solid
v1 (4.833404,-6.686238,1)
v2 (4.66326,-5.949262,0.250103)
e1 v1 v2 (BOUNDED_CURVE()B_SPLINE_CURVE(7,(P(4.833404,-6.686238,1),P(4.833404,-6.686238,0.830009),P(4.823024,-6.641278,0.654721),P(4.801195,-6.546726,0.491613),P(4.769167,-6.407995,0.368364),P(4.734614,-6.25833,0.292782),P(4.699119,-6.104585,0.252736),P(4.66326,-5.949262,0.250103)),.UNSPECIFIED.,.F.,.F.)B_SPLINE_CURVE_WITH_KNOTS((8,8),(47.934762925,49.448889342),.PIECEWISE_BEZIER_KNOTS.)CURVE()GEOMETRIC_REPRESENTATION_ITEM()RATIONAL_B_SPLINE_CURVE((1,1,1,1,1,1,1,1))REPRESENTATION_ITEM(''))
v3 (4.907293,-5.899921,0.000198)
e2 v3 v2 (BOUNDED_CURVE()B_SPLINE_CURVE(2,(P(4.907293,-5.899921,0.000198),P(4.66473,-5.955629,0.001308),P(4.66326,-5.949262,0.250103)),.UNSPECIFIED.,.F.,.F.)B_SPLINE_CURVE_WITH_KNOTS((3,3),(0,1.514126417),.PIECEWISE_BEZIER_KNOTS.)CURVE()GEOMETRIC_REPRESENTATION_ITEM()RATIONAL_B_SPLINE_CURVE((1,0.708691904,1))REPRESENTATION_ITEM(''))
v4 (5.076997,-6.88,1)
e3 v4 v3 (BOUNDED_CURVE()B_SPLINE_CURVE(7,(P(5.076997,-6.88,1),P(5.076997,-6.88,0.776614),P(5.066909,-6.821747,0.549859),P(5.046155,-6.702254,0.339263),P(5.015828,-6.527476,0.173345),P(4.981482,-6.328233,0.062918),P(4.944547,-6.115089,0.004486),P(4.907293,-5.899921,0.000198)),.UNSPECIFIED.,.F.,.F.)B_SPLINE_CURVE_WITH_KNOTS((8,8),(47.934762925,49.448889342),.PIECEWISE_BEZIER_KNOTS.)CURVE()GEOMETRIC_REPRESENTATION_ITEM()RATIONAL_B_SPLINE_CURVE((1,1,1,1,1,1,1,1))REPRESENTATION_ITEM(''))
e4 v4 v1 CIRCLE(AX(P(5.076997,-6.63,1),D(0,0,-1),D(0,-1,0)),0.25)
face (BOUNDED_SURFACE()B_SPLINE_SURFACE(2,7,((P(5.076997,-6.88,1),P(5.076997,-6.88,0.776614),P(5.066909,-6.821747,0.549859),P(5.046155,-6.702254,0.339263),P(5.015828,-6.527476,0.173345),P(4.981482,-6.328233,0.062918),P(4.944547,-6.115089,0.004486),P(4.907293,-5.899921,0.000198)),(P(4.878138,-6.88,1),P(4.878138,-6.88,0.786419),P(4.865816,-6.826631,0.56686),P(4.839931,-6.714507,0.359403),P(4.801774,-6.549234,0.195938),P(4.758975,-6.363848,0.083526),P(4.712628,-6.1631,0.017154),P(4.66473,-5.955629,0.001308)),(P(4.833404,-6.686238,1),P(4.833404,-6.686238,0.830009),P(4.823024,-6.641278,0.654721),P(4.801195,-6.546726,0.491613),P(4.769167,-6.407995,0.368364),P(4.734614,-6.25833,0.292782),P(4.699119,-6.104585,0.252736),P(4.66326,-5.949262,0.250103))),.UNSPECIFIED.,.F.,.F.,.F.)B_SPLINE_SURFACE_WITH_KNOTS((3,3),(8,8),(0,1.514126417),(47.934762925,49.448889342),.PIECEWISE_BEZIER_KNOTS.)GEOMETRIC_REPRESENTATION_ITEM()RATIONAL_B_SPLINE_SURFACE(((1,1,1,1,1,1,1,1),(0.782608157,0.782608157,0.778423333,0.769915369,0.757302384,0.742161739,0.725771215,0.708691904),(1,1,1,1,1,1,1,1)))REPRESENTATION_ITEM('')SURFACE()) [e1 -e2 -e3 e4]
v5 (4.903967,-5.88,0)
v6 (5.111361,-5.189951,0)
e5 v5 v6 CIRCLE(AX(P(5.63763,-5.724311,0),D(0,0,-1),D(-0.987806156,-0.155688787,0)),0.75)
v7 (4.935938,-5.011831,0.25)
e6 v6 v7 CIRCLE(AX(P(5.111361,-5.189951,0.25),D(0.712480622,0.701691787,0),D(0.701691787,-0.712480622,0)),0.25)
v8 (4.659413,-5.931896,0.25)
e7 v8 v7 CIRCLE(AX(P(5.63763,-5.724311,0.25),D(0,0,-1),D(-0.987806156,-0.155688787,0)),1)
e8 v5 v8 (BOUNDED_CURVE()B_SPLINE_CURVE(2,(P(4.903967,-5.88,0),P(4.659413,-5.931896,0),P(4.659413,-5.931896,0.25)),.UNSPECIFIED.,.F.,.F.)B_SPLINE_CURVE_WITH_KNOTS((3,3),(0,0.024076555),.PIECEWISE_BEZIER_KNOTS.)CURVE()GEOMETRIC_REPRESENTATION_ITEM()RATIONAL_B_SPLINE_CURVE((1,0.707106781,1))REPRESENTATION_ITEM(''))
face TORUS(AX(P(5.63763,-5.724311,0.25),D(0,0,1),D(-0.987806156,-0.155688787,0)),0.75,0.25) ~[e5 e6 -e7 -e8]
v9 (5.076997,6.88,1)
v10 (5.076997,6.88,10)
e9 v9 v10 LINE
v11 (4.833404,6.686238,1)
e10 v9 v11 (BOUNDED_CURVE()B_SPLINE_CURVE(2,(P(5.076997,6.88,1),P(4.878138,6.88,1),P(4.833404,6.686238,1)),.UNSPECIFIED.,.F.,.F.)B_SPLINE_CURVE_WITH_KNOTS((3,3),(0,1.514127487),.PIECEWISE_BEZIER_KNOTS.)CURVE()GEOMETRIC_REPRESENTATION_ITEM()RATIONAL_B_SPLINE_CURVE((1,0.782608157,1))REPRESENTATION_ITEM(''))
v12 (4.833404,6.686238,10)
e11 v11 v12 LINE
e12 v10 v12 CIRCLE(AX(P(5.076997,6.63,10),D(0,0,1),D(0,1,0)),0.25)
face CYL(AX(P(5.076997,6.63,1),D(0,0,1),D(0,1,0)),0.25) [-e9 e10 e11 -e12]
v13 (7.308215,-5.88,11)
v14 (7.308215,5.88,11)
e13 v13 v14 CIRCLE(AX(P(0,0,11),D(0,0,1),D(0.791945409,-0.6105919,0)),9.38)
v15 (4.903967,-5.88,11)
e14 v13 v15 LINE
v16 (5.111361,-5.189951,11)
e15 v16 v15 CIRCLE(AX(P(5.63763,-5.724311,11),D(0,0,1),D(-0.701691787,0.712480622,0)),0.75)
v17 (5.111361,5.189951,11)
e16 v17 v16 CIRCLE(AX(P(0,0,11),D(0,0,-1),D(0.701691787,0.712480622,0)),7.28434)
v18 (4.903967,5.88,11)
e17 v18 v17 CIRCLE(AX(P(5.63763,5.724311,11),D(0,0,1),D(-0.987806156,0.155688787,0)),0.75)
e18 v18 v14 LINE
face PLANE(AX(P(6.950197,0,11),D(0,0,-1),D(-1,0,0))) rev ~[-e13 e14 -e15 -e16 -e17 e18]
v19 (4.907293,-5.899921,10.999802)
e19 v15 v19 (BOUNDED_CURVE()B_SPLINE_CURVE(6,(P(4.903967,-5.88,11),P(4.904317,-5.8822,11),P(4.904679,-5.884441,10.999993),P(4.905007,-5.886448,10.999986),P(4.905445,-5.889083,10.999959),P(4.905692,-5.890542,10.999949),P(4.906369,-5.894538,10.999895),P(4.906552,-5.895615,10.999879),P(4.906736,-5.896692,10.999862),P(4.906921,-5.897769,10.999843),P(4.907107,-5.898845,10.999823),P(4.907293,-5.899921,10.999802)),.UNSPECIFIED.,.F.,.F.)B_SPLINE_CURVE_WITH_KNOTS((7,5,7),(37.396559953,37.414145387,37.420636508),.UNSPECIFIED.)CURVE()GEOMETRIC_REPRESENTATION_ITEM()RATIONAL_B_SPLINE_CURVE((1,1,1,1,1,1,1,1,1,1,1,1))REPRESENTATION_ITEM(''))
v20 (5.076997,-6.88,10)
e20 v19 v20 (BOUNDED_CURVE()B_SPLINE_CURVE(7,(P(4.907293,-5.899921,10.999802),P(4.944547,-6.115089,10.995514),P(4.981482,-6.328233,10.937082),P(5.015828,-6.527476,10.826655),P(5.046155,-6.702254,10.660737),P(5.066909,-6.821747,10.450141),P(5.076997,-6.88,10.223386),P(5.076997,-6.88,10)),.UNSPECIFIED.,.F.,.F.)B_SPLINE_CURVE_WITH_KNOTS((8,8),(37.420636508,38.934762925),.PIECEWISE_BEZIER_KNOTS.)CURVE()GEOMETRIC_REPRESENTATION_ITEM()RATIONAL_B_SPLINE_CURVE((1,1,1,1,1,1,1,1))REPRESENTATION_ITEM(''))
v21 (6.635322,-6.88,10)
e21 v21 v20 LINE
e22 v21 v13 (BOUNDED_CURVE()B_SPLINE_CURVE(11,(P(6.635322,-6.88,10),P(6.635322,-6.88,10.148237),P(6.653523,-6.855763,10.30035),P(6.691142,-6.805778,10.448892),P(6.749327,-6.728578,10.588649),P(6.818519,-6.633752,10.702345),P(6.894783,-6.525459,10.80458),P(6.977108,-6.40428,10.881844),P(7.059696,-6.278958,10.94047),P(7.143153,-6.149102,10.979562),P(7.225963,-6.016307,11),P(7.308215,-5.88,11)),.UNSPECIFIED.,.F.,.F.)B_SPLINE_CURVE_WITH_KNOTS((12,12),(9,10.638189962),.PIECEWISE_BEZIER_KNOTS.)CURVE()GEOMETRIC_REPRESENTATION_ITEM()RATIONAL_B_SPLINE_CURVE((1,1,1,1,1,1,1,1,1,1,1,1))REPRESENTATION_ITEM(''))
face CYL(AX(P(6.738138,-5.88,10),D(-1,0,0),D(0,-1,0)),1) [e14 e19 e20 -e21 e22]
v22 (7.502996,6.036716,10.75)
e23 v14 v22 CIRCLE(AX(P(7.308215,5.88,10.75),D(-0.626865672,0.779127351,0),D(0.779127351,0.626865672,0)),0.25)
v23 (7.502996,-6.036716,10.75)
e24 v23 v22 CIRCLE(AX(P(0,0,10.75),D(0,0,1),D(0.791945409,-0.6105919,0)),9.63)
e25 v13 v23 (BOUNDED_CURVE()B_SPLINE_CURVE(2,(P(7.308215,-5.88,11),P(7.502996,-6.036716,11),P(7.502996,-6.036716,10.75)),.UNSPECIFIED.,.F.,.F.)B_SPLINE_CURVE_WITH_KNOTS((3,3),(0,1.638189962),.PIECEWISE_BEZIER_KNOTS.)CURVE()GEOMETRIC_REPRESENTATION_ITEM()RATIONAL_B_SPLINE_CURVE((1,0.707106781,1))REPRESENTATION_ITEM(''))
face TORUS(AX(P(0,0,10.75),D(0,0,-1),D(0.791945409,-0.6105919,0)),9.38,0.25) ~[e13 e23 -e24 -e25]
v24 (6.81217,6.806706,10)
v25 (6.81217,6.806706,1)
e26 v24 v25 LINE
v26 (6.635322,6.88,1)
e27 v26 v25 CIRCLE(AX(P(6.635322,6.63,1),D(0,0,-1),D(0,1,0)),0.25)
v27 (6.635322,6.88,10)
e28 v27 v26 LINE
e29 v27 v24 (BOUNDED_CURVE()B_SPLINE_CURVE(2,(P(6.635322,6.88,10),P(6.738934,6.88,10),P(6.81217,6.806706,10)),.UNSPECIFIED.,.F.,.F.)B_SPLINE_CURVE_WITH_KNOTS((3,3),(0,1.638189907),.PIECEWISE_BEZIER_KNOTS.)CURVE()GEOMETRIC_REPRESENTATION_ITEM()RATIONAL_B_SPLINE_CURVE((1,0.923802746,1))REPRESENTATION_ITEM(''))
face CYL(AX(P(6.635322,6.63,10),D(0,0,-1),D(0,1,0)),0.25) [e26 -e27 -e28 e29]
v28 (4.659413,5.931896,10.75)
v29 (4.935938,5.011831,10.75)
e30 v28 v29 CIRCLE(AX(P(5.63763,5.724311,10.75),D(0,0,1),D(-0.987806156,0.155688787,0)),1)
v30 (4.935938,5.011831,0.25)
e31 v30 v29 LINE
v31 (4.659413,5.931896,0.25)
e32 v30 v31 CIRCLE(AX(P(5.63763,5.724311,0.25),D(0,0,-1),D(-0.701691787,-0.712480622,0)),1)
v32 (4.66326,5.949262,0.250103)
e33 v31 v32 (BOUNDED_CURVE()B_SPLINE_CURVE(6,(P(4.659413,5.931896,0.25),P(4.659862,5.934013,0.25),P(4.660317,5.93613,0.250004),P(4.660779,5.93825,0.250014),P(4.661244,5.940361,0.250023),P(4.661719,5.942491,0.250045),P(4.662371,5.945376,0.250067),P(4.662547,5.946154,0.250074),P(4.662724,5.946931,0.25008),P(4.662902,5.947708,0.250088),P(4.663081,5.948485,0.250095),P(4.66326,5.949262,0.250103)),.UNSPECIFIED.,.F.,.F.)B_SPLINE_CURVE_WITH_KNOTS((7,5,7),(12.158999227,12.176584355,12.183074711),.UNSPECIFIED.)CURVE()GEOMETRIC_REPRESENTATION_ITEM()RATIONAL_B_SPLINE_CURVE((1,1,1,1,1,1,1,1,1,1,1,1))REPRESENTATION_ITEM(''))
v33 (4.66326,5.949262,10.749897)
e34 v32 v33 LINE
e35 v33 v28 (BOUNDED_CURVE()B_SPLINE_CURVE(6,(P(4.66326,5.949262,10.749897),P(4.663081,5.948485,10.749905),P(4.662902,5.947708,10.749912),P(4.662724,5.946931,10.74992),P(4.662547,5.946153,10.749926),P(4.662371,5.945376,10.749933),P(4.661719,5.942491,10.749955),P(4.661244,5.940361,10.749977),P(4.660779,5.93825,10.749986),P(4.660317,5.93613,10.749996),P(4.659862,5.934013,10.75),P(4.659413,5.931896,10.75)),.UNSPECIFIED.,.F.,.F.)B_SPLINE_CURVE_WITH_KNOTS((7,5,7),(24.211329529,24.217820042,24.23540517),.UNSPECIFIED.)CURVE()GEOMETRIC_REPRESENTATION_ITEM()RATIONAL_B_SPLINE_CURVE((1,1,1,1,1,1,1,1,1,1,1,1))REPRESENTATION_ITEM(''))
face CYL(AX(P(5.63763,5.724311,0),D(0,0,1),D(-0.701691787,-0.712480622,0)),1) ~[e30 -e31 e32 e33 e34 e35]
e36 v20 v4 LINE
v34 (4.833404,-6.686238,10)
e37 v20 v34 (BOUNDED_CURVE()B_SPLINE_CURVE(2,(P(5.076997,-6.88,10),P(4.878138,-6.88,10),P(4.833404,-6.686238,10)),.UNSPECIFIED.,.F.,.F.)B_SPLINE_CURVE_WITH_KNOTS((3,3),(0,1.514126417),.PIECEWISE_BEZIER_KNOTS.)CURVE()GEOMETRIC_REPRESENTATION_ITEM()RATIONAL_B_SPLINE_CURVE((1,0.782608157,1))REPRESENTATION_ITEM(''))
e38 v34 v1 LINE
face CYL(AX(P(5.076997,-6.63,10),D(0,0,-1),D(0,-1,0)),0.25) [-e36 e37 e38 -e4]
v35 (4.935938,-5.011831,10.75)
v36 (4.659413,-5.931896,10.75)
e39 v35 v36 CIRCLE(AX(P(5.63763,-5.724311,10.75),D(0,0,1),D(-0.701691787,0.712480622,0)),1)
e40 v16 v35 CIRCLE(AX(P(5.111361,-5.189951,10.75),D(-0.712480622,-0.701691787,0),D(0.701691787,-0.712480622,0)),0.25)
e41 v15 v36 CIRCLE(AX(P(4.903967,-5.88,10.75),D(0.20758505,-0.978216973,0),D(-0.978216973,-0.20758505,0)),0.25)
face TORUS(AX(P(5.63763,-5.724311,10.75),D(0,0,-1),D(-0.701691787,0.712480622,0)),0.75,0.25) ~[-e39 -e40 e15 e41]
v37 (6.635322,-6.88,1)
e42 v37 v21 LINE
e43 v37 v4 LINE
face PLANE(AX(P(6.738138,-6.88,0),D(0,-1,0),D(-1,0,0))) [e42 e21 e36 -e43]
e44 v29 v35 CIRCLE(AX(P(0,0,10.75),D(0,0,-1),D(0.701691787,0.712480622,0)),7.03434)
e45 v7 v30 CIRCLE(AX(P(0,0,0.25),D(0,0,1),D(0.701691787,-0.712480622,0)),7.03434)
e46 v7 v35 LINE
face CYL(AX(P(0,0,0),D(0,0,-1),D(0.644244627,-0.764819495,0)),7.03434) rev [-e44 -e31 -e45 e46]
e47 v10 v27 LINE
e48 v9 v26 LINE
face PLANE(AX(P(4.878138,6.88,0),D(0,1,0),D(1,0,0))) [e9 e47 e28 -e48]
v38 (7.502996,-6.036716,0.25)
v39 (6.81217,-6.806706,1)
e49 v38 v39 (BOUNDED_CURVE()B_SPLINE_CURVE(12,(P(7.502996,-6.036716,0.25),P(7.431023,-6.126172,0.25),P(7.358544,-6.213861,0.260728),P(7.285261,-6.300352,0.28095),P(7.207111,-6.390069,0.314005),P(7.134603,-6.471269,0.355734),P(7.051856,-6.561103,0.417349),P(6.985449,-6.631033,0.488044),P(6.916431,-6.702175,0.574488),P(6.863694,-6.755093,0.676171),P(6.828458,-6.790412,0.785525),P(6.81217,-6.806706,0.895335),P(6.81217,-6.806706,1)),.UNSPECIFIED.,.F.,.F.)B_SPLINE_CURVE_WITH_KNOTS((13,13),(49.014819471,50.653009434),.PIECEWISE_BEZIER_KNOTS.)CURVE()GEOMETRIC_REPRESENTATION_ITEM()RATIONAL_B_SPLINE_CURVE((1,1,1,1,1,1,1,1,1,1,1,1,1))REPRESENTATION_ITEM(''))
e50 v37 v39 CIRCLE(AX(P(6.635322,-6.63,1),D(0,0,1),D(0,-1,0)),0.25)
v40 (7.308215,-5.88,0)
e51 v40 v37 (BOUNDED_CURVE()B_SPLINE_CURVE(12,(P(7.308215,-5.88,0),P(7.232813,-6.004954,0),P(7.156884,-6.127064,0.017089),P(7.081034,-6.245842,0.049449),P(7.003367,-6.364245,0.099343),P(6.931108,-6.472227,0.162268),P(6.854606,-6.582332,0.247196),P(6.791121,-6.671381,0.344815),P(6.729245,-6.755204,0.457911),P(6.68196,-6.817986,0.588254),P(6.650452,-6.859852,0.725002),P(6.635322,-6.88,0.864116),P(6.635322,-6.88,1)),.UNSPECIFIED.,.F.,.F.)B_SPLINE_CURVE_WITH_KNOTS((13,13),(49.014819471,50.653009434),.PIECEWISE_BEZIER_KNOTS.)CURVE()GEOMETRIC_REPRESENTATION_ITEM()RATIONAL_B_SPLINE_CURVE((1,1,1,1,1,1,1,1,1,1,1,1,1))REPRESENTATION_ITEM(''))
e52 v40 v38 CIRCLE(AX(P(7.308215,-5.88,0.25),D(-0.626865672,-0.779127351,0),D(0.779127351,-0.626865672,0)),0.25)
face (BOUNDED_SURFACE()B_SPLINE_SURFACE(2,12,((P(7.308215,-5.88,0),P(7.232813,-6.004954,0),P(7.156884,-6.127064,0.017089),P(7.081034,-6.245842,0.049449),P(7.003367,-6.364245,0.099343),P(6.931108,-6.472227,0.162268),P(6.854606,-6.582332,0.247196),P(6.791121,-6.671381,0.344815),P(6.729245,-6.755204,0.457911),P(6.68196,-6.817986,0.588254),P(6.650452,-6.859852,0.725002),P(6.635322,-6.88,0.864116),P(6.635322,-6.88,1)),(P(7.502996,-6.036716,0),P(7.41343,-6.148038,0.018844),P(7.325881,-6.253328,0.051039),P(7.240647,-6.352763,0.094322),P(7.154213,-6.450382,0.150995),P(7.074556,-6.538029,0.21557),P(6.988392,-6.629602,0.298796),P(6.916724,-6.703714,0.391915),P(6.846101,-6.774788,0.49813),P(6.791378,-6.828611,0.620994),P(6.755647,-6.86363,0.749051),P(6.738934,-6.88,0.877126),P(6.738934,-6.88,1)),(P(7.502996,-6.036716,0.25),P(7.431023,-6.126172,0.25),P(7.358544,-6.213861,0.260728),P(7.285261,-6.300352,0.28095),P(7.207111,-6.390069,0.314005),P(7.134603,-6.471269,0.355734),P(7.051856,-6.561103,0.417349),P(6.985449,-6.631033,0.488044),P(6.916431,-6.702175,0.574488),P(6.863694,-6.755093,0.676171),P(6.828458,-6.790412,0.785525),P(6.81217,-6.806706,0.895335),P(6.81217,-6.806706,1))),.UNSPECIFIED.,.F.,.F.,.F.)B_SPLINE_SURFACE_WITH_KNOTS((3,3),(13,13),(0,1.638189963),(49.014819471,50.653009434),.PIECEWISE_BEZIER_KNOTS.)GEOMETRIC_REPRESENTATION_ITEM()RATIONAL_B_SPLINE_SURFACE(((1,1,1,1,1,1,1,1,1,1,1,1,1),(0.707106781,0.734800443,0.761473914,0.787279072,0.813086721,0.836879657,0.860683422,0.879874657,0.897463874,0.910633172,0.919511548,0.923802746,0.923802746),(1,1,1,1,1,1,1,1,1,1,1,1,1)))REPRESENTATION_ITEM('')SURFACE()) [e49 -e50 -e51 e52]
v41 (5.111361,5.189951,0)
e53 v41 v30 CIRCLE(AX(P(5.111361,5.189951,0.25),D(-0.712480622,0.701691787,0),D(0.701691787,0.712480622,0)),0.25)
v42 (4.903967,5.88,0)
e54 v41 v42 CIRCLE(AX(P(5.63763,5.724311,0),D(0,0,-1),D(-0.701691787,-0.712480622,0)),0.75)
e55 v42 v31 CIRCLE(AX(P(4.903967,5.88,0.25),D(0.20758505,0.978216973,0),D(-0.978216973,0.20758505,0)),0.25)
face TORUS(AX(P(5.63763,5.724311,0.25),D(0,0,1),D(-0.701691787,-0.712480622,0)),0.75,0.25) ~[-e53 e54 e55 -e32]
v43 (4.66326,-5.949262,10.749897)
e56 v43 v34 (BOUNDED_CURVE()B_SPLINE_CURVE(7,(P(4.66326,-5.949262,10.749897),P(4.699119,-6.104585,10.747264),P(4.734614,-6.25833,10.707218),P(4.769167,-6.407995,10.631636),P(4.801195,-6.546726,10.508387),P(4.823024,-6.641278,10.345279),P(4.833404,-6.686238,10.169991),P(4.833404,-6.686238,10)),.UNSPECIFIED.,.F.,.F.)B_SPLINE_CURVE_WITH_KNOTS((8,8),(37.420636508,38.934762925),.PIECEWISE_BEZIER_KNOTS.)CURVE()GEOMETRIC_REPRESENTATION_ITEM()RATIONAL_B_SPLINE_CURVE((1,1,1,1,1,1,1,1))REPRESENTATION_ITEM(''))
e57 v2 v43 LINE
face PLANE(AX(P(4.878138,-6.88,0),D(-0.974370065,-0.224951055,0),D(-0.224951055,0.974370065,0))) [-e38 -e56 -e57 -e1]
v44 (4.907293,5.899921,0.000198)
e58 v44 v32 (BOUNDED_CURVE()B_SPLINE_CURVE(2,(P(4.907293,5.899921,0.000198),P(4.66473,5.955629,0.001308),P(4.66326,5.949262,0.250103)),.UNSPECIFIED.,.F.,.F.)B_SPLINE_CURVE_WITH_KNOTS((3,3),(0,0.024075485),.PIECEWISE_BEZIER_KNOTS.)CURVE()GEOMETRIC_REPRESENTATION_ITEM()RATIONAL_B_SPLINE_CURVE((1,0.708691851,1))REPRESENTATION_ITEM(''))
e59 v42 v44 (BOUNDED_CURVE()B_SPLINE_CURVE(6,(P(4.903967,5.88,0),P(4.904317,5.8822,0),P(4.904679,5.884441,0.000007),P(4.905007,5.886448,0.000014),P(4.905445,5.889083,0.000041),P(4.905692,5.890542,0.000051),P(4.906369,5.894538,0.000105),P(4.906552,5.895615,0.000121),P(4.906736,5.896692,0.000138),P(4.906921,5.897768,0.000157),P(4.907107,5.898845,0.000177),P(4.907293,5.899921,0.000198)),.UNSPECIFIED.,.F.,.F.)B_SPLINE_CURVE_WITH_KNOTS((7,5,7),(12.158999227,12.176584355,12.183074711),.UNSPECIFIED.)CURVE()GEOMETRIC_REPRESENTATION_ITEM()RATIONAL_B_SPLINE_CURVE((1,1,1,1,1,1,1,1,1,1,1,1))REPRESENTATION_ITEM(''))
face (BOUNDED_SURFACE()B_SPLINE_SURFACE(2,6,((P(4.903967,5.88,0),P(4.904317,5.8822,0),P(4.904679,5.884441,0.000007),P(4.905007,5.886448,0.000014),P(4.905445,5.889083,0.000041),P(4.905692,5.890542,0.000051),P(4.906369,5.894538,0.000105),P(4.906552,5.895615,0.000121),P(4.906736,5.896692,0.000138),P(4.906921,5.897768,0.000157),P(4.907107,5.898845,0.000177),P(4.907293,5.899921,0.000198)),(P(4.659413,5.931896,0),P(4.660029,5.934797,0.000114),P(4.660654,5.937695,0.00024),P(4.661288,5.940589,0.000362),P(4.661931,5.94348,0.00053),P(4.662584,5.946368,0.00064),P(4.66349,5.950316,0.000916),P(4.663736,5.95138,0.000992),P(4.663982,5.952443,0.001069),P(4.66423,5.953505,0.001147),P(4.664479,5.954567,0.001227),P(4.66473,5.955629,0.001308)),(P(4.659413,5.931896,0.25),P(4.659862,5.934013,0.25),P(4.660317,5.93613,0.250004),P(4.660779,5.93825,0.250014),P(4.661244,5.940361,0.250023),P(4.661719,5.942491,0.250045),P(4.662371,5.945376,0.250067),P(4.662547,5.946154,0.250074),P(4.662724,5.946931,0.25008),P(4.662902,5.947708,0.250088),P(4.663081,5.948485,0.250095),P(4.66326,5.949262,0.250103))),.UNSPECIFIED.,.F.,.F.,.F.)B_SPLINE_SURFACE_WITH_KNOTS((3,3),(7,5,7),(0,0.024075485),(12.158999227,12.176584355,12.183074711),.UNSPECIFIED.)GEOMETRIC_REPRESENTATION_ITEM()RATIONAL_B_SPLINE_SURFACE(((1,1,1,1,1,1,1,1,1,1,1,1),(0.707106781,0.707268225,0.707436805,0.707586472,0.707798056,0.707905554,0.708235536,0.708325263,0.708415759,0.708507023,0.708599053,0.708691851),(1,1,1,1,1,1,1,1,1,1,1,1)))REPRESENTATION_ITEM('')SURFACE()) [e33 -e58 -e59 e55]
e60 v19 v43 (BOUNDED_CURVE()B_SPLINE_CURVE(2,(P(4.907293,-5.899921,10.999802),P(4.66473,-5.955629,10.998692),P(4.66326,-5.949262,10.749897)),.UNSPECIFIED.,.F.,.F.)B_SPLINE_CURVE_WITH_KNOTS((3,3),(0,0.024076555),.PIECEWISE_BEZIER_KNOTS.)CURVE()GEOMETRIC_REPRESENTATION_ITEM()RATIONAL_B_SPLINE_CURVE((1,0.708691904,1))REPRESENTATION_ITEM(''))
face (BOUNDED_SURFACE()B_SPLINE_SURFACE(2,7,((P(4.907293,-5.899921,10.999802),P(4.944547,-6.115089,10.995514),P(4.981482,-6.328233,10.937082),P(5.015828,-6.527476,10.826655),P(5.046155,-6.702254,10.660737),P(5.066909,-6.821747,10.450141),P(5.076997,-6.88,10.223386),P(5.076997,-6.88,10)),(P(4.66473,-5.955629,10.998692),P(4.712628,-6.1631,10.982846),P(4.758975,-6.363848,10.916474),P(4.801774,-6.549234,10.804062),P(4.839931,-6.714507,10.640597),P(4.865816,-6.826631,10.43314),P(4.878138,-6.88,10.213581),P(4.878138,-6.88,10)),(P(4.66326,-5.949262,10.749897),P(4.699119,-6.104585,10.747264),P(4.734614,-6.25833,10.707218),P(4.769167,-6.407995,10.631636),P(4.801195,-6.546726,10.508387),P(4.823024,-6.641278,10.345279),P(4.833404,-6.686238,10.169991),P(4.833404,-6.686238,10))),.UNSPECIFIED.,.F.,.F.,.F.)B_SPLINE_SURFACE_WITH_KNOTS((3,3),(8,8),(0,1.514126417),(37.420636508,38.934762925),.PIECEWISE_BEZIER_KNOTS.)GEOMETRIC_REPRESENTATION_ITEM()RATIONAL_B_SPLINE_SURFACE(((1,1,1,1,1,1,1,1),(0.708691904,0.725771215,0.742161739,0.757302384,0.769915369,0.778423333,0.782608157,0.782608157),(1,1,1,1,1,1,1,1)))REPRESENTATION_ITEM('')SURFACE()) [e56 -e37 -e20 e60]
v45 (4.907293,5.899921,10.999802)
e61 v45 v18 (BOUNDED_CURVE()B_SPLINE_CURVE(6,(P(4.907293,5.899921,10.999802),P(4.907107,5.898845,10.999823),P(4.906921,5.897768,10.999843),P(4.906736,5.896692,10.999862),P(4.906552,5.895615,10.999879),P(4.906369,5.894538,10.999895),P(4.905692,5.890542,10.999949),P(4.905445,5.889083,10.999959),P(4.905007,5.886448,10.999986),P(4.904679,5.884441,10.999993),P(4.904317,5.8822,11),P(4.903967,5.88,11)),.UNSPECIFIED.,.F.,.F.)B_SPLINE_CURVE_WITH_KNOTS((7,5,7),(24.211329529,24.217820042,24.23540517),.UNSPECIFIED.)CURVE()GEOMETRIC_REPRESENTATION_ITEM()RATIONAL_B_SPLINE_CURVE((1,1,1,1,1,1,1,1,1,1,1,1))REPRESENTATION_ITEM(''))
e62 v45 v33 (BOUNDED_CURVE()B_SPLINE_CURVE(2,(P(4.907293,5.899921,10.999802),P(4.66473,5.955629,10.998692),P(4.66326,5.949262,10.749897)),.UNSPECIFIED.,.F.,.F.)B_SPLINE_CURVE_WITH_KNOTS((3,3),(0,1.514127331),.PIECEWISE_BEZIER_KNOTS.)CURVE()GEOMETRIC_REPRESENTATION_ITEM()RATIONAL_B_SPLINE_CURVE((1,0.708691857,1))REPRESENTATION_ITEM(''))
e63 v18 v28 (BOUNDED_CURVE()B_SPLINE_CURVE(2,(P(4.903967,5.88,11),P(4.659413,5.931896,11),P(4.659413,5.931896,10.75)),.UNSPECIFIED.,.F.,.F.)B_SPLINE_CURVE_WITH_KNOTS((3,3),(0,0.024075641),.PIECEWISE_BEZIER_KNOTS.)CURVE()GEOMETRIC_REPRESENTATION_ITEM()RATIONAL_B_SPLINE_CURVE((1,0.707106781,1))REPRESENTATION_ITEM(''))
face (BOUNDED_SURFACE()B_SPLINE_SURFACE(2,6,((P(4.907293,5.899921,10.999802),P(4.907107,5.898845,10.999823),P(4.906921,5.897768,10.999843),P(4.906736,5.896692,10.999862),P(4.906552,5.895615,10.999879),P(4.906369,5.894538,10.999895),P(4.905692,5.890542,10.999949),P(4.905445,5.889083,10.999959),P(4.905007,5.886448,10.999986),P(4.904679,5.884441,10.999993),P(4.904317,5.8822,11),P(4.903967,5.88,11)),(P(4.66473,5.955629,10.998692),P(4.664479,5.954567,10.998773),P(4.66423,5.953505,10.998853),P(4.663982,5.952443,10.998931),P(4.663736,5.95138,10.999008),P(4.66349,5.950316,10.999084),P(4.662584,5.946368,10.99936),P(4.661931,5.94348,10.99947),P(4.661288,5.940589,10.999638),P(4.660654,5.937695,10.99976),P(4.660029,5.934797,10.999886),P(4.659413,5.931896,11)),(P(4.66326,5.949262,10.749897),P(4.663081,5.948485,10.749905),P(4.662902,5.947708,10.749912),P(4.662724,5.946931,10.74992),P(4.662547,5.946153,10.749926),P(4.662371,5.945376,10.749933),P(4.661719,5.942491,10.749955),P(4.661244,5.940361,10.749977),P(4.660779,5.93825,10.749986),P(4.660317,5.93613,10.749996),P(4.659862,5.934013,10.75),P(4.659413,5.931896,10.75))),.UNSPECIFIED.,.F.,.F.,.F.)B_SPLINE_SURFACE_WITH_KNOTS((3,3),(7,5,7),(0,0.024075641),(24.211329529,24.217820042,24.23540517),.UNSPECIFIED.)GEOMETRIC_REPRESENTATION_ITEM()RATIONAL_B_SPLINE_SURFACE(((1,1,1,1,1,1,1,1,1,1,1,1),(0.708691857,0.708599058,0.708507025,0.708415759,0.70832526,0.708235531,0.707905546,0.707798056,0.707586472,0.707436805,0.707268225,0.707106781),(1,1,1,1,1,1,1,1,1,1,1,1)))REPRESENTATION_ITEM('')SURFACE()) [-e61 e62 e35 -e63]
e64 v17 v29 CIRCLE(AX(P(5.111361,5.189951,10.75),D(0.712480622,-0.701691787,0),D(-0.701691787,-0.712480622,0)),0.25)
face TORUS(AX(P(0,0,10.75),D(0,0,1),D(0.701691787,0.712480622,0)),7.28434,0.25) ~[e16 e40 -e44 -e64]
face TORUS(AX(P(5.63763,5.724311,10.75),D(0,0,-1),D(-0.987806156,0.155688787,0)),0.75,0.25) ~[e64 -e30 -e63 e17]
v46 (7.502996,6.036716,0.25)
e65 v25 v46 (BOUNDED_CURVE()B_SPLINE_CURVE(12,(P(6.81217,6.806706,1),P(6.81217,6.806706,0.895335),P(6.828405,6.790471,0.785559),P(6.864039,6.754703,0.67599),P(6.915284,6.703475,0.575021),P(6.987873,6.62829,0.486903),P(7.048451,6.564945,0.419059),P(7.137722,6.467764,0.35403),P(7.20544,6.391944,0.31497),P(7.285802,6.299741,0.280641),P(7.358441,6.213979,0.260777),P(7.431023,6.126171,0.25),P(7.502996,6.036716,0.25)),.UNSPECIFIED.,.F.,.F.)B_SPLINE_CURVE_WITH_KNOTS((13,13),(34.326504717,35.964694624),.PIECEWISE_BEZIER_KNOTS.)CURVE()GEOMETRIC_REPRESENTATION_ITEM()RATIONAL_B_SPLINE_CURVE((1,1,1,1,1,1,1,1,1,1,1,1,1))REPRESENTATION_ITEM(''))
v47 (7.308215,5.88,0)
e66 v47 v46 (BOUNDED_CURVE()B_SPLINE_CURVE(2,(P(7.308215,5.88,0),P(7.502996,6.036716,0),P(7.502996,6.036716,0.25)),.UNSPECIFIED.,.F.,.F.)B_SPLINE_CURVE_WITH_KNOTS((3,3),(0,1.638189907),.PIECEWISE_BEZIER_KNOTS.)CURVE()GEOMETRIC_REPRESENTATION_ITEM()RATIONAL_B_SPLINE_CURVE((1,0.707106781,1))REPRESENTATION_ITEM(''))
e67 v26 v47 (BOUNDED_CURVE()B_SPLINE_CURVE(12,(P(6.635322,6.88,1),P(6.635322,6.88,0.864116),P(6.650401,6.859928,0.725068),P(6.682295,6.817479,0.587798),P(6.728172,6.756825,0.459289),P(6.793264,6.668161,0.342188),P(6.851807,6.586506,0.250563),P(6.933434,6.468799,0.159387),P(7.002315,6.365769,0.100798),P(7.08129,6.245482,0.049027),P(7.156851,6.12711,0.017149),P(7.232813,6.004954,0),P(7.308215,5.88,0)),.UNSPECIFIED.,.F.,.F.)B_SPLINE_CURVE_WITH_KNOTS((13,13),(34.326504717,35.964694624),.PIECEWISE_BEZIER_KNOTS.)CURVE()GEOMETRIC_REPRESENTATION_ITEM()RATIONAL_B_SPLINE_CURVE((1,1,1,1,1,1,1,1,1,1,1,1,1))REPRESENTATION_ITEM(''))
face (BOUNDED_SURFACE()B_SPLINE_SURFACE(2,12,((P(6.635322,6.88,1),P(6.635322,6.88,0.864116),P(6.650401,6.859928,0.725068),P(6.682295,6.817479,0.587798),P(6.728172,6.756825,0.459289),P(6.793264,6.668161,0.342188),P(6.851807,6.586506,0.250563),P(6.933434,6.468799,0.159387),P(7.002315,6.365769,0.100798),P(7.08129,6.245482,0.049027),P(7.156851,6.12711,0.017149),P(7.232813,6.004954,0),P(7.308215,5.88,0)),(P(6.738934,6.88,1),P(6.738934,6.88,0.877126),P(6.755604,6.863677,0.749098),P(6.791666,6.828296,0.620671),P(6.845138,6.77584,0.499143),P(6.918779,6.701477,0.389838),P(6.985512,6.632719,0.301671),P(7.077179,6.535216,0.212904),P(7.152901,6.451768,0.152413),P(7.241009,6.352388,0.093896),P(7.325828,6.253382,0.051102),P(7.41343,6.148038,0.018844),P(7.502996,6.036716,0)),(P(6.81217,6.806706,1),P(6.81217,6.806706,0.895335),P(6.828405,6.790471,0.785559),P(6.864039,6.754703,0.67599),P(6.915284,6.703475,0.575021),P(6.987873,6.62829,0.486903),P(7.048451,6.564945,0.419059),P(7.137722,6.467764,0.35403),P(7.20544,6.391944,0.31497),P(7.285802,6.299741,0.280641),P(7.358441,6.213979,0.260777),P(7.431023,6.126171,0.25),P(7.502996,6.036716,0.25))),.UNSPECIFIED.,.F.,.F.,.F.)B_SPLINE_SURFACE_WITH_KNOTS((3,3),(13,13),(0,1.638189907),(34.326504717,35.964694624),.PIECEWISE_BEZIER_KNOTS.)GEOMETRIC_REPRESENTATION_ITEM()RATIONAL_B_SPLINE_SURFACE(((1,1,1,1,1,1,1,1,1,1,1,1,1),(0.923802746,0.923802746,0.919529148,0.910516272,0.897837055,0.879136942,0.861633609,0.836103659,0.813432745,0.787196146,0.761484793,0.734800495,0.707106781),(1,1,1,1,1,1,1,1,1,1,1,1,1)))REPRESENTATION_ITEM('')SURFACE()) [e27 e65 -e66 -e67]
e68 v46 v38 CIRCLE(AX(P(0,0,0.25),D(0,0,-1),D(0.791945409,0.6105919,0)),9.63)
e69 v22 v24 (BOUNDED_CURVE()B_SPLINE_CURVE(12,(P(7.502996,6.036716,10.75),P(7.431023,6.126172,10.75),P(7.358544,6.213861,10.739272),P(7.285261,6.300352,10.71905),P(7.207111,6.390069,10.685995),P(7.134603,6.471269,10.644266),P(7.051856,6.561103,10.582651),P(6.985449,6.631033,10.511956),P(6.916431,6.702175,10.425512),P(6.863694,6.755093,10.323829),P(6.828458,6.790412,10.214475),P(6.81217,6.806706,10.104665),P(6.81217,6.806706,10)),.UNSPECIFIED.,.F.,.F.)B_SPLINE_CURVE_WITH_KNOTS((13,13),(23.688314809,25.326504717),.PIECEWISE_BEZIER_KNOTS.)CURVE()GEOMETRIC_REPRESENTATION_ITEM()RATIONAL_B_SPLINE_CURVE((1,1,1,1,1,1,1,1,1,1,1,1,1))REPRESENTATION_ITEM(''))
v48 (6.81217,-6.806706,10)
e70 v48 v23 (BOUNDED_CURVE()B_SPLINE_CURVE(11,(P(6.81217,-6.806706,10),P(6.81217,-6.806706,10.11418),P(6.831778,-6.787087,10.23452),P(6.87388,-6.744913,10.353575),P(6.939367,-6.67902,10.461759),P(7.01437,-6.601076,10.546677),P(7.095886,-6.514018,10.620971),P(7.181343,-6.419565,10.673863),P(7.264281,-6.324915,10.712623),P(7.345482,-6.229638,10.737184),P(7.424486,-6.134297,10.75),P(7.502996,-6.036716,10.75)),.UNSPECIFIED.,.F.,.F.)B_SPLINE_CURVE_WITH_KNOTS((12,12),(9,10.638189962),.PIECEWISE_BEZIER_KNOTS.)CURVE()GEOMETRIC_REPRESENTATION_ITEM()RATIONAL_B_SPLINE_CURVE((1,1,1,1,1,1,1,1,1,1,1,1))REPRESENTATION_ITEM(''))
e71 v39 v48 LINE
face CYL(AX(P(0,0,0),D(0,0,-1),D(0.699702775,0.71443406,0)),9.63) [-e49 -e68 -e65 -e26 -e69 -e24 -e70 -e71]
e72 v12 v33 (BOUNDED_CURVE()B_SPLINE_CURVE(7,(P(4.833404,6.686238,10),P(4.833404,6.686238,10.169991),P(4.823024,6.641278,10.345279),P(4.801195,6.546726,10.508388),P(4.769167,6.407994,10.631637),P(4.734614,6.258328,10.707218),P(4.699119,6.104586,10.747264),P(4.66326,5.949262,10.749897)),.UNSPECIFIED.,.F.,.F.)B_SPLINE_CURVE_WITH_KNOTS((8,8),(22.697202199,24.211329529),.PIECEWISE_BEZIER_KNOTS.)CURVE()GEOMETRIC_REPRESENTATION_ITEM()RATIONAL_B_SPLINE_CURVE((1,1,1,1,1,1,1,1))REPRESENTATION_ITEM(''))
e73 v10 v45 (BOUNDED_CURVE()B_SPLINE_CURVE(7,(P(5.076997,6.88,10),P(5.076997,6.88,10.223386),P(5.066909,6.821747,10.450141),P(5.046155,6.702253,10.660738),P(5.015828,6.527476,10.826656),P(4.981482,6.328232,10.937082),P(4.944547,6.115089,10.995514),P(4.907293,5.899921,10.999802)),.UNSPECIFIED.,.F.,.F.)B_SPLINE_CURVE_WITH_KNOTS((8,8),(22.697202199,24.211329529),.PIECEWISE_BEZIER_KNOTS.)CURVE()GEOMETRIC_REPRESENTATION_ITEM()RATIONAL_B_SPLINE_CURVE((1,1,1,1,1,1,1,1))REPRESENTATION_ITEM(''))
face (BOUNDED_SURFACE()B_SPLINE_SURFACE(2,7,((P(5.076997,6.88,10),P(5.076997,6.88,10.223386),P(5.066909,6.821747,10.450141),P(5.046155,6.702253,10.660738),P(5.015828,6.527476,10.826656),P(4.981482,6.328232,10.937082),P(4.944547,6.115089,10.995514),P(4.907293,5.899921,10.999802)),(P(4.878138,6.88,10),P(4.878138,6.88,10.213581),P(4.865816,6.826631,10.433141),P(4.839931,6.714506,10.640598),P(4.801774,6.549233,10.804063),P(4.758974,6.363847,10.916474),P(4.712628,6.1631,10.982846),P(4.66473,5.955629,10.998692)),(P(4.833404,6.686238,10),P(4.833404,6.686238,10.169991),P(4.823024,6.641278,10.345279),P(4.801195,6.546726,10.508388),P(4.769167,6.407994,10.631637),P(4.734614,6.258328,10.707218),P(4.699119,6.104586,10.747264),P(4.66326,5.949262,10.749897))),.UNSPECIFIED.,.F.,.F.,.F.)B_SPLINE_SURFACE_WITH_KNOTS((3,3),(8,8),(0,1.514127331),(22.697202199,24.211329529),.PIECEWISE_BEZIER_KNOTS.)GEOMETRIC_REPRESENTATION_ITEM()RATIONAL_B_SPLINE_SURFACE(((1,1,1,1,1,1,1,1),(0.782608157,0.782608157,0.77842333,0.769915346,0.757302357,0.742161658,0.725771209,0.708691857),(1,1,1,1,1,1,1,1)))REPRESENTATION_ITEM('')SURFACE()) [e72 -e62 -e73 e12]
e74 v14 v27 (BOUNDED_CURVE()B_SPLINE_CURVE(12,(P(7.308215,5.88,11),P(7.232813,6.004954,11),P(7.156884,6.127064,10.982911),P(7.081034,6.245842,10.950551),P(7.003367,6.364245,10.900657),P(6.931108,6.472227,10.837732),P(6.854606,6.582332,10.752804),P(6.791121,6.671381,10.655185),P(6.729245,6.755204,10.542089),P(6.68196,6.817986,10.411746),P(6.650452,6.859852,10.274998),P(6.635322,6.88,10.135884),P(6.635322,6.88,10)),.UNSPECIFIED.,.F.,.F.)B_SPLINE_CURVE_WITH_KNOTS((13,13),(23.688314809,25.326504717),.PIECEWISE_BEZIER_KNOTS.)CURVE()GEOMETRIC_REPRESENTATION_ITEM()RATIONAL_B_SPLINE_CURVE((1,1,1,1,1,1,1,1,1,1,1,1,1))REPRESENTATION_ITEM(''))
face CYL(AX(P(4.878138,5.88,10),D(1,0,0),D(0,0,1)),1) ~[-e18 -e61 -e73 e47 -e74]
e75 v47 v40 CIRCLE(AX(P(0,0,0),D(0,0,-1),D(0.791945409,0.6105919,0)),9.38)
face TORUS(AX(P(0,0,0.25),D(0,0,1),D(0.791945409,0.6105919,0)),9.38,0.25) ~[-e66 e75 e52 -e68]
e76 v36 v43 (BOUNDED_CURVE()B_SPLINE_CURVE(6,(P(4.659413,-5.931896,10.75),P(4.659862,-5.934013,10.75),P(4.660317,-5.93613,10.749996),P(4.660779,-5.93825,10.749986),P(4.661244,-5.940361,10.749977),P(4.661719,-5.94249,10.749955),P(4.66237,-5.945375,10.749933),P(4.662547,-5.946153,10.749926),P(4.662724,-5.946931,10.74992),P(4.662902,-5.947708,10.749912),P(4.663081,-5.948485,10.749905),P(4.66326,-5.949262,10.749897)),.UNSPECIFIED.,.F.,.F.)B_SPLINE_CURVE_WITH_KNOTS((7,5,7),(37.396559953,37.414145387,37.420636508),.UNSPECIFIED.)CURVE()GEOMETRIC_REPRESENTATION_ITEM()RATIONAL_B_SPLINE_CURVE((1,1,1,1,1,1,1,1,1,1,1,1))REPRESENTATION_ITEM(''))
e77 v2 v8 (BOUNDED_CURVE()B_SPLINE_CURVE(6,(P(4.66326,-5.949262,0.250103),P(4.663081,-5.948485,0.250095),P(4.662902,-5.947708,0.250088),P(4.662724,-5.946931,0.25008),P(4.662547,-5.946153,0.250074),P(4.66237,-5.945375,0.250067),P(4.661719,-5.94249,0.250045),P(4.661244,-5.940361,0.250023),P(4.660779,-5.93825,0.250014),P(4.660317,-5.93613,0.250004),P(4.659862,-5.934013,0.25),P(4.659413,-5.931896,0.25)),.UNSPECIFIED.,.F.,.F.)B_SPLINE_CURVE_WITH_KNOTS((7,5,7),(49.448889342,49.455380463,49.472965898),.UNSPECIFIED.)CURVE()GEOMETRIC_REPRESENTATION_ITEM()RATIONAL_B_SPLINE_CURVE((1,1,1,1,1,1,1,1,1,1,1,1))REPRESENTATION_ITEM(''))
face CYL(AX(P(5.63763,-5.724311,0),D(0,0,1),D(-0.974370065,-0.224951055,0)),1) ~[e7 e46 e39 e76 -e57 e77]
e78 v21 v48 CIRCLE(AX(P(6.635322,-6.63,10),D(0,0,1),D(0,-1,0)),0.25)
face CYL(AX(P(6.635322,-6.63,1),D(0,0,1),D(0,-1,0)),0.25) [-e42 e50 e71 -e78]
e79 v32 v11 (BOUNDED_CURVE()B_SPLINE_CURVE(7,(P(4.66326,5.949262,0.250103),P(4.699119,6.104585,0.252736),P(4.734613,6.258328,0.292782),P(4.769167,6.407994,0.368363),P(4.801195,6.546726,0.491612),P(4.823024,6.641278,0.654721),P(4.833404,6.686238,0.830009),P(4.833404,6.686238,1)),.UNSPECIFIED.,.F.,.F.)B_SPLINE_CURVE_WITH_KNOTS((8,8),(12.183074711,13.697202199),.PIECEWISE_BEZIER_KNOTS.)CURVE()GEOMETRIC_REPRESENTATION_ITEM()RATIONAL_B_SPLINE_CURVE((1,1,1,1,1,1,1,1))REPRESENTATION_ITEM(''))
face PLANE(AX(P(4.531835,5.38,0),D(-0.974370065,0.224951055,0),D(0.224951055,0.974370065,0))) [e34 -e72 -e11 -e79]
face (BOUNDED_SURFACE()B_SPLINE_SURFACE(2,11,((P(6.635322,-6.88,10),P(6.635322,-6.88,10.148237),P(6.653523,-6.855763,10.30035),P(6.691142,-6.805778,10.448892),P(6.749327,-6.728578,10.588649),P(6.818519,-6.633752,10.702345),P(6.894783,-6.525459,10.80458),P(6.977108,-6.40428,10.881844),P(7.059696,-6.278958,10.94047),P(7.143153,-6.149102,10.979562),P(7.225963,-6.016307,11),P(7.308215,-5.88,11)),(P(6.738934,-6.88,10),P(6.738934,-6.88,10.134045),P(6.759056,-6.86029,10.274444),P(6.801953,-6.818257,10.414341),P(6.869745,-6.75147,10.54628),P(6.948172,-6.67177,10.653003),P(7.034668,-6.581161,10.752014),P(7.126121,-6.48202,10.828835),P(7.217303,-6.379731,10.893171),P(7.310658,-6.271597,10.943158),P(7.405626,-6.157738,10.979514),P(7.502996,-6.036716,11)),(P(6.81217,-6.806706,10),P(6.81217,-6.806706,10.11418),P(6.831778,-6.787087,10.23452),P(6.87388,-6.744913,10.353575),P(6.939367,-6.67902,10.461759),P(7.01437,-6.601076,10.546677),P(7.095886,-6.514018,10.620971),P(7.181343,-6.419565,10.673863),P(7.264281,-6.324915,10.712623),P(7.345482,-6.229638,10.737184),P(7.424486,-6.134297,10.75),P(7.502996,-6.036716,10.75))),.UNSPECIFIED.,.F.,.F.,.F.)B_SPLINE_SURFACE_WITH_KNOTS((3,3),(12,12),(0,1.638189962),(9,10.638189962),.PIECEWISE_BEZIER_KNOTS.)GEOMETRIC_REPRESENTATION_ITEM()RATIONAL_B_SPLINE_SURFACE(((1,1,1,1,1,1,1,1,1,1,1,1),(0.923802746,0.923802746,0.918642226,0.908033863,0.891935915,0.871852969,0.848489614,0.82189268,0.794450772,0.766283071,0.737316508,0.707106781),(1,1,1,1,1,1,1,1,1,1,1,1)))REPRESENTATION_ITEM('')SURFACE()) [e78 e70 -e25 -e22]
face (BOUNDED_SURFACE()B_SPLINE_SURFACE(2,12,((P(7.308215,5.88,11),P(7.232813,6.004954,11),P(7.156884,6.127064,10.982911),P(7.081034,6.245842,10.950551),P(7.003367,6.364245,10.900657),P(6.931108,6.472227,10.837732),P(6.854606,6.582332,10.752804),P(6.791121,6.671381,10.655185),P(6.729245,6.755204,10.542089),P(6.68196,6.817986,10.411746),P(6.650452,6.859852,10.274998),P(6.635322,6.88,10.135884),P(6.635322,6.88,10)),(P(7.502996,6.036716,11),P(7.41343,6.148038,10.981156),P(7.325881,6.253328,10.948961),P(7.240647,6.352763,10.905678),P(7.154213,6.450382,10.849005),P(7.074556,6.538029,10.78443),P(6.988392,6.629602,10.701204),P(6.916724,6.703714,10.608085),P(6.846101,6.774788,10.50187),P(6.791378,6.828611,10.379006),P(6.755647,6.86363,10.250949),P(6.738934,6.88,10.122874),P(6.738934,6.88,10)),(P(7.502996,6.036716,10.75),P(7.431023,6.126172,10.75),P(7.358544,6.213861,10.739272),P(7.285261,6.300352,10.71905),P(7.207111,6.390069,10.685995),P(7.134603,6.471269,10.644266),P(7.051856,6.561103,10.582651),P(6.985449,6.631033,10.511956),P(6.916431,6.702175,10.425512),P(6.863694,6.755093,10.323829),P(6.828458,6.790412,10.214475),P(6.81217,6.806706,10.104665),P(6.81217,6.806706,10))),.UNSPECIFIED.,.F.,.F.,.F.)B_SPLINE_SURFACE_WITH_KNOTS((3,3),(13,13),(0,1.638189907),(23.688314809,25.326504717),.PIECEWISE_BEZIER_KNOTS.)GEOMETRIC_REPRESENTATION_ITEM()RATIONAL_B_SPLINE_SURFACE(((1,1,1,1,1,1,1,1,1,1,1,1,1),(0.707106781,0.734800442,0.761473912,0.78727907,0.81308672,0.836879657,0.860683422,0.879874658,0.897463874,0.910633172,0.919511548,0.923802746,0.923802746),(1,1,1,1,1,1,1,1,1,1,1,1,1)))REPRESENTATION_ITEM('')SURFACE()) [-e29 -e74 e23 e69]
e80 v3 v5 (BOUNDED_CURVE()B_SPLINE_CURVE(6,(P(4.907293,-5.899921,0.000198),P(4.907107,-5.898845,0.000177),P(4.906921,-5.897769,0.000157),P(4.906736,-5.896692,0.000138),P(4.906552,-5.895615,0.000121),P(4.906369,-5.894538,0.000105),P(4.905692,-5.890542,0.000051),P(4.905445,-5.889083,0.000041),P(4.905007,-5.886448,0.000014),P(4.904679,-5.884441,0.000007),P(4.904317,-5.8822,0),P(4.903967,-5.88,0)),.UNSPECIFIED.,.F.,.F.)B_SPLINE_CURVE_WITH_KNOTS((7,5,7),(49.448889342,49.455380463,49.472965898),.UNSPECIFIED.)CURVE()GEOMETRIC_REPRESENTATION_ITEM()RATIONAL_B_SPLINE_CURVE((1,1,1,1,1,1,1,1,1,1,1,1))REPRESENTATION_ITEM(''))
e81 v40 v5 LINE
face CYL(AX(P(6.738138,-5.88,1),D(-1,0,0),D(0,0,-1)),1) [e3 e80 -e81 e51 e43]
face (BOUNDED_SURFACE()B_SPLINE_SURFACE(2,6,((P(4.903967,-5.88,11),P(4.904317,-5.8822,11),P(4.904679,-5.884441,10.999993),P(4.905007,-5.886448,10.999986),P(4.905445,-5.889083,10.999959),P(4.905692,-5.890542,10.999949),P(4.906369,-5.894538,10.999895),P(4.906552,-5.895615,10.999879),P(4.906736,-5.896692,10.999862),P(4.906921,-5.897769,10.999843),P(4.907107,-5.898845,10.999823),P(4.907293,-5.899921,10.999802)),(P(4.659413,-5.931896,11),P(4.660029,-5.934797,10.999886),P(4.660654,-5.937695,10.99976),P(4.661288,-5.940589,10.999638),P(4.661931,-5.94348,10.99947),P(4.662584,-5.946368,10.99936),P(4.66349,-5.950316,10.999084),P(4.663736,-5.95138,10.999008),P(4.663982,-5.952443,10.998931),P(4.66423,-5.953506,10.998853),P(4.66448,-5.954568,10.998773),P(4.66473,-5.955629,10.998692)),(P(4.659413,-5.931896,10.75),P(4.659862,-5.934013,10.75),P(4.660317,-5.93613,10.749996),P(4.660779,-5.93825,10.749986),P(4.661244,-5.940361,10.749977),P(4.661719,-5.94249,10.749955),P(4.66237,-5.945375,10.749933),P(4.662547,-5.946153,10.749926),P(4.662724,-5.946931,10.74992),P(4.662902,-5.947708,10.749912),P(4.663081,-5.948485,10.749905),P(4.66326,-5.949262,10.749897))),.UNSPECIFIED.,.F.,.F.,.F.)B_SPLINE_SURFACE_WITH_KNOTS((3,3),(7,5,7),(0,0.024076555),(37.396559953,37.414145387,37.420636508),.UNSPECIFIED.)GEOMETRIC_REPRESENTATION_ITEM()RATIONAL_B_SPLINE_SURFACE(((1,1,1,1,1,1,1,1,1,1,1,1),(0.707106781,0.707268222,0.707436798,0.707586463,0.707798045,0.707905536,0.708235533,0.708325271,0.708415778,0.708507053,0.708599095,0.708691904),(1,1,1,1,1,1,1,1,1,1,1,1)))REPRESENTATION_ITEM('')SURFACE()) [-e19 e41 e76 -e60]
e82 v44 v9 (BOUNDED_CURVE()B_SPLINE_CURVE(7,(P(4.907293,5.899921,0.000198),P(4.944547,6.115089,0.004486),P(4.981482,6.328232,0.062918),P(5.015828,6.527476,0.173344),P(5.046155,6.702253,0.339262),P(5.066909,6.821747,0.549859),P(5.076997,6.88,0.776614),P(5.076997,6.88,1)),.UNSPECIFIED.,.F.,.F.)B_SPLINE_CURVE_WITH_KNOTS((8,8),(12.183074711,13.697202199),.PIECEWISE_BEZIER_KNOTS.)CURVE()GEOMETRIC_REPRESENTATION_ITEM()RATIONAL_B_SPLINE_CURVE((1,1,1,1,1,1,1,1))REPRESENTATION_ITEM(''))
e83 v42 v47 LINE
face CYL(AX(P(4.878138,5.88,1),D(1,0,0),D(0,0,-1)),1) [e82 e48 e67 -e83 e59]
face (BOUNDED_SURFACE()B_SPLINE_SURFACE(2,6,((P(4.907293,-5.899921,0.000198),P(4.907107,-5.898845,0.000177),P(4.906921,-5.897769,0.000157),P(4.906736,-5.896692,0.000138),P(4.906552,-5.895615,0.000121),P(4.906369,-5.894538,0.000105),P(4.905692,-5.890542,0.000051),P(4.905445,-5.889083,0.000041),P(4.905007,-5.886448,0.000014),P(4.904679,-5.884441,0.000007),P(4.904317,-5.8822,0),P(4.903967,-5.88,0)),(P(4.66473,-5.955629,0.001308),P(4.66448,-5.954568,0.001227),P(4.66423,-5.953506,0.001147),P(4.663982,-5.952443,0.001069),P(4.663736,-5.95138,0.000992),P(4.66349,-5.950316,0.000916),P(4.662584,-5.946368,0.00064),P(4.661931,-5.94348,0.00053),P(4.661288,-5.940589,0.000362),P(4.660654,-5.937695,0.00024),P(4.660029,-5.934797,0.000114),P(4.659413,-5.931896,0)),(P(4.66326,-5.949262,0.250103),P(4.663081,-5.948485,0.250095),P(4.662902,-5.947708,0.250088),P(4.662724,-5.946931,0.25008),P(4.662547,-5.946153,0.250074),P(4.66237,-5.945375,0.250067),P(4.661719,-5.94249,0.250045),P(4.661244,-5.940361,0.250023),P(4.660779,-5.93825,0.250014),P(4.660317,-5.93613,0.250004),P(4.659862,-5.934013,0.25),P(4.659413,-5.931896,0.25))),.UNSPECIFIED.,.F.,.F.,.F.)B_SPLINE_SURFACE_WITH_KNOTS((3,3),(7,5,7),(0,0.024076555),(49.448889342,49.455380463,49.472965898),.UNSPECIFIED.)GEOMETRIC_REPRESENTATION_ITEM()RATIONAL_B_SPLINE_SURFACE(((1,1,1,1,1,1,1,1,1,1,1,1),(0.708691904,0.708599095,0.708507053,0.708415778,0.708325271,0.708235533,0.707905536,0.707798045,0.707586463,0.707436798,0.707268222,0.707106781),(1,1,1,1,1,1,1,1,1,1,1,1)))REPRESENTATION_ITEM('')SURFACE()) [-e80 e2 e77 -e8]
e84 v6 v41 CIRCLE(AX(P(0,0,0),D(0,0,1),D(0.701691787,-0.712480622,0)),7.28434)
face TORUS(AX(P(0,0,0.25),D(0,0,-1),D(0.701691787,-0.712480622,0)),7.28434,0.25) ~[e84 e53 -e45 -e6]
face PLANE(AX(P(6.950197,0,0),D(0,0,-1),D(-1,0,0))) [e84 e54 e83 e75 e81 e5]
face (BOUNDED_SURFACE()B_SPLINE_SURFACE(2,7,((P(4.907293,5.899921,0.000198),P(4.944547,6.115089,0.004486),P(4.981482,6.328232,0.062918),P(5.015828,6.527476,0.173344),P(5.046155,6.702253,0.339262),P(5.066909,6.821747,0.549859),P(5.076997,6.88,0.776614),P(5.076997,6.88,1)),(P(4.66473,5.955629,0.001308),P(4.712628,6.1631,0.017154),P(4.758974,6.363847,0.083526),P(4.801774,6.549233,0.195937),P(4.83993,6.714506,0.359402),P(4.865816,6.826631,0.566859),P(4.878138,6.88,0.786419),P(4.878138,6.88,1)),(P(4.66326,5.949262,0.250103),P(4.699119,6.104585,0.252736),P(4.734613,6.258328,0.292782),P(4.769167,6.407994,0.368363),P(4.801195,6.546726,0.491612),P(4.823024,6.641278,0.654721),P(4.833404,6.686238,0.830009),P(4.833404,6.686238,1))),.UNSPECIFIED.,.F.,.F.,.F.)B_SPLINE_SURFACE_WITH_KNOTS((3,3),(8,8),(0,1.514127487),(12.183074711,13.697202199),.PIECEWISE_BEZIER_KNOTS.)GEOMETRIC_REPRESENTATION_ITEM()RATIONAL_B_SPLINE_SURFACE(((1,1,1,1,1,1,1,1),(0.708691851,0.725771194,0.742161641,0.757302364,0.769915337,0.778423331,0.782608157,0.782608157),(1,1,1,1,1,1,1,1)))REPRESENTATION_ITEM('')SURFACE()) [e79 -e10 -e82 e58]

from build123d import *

# Parameters (mm, degrees)
BOSS_EXTRUDE1_DEPTH = 11
FILLET1_R           = 1
FILLET2_R           = 1
FILLET3_R           = 0.25


with BuildPart() as part:
    # Sketch1 → Boss-Extrude1 (new body)
    with BuildSketch(Plane.XY):
        with BuildLine():
            Line((6.738137725, -6.88), (4.878137725, -6.88))
            Line((4.878137725, -6.88), (4.531835438, -5.38))
            ThreePointArc((4.531835438, -5.38), (7.034339517, 0), (4.531835438, 5.38))
            Line((4.531835438, 5.38), (4.878137725, 6.88))
            Line((4.878137725, 6.88), (6.738137725, 6.88))
            ThreePointArc((6.738137725, 6.88), (9.63, 0), (6.738137725, -6.88))
        make_face()
    extrude(amount=BOSS_EXTRUDE1_DEPTH)

    # Fillet1
    fillet1_edges = [part.edges().sort_by_distance(p)[0] for p in [
        (4.531835438, -5.38, 5.5),
        (4.531835438, 5.38, 5.5),
    ]]
    fillet(fillet1_edges, radius=FILLET1_R)

    # Fillet2
    fillet2_edges = [part.edges().sort_by_distance(p)[0] for p in [
        (5.808137725, -6.88, 0),
        (5.808137725, -6.88, 11),
        (5.808137725, 6.88, 11),
        (5.808137725, 6.88, 0),
    ]]
    fillet(fillet2_edges, radius=FILLET2_R)

    # Fillet3
    fillet3_edges = [part.edges().sort_by_distance(p)[0] for p in [
        (7.034339517, 0, 0),
        (4.687877266, 5.411310183, 0),
        (7.034339517, 0, 11),
        (4.687877266, -5.411310183, 11),
        (6.738137725, -6.88, 5.5),
        (4.878137725, -6.88, 5.5),
        (9.63, 0, 0),
        (6.738137725, 6.88, 5.5),
        (9.63, 0, 11),
        (7.064336587, 6.544619823, 0.252818297),
        (7.064336587, 6.544619823, 10.747181703),
        (7.064336589, -6.544619821, 10.747181705),
        (7.064336577, -6.544619807, 0.2528183),
        (4.687877266, -5.411310183, 0),
        (4.655934772, -5.914769545, 10.999395357),
        (4.655934772, -5.914769545, 0.000604643),
        (4.815123489, -6.607055355, 10.686578845),
        (4.815123489, -6.607055355, 0.313421155),
        (4.687877266, 5.411310183, 11),
        (4.655934776, 5.914769544, 0.00060465),
        (4.655934776, 5.914769544, 10.99939535),
        (4.878137725, 6.88, 5.5),
        (4.815123489, 6.607055355, 0.313421155),
        (4.815123489, 6.607055355, 10.686578845),
    ]]
    fillet(fillet3_edges, radius=FILLET3_R)


solid = part.part
